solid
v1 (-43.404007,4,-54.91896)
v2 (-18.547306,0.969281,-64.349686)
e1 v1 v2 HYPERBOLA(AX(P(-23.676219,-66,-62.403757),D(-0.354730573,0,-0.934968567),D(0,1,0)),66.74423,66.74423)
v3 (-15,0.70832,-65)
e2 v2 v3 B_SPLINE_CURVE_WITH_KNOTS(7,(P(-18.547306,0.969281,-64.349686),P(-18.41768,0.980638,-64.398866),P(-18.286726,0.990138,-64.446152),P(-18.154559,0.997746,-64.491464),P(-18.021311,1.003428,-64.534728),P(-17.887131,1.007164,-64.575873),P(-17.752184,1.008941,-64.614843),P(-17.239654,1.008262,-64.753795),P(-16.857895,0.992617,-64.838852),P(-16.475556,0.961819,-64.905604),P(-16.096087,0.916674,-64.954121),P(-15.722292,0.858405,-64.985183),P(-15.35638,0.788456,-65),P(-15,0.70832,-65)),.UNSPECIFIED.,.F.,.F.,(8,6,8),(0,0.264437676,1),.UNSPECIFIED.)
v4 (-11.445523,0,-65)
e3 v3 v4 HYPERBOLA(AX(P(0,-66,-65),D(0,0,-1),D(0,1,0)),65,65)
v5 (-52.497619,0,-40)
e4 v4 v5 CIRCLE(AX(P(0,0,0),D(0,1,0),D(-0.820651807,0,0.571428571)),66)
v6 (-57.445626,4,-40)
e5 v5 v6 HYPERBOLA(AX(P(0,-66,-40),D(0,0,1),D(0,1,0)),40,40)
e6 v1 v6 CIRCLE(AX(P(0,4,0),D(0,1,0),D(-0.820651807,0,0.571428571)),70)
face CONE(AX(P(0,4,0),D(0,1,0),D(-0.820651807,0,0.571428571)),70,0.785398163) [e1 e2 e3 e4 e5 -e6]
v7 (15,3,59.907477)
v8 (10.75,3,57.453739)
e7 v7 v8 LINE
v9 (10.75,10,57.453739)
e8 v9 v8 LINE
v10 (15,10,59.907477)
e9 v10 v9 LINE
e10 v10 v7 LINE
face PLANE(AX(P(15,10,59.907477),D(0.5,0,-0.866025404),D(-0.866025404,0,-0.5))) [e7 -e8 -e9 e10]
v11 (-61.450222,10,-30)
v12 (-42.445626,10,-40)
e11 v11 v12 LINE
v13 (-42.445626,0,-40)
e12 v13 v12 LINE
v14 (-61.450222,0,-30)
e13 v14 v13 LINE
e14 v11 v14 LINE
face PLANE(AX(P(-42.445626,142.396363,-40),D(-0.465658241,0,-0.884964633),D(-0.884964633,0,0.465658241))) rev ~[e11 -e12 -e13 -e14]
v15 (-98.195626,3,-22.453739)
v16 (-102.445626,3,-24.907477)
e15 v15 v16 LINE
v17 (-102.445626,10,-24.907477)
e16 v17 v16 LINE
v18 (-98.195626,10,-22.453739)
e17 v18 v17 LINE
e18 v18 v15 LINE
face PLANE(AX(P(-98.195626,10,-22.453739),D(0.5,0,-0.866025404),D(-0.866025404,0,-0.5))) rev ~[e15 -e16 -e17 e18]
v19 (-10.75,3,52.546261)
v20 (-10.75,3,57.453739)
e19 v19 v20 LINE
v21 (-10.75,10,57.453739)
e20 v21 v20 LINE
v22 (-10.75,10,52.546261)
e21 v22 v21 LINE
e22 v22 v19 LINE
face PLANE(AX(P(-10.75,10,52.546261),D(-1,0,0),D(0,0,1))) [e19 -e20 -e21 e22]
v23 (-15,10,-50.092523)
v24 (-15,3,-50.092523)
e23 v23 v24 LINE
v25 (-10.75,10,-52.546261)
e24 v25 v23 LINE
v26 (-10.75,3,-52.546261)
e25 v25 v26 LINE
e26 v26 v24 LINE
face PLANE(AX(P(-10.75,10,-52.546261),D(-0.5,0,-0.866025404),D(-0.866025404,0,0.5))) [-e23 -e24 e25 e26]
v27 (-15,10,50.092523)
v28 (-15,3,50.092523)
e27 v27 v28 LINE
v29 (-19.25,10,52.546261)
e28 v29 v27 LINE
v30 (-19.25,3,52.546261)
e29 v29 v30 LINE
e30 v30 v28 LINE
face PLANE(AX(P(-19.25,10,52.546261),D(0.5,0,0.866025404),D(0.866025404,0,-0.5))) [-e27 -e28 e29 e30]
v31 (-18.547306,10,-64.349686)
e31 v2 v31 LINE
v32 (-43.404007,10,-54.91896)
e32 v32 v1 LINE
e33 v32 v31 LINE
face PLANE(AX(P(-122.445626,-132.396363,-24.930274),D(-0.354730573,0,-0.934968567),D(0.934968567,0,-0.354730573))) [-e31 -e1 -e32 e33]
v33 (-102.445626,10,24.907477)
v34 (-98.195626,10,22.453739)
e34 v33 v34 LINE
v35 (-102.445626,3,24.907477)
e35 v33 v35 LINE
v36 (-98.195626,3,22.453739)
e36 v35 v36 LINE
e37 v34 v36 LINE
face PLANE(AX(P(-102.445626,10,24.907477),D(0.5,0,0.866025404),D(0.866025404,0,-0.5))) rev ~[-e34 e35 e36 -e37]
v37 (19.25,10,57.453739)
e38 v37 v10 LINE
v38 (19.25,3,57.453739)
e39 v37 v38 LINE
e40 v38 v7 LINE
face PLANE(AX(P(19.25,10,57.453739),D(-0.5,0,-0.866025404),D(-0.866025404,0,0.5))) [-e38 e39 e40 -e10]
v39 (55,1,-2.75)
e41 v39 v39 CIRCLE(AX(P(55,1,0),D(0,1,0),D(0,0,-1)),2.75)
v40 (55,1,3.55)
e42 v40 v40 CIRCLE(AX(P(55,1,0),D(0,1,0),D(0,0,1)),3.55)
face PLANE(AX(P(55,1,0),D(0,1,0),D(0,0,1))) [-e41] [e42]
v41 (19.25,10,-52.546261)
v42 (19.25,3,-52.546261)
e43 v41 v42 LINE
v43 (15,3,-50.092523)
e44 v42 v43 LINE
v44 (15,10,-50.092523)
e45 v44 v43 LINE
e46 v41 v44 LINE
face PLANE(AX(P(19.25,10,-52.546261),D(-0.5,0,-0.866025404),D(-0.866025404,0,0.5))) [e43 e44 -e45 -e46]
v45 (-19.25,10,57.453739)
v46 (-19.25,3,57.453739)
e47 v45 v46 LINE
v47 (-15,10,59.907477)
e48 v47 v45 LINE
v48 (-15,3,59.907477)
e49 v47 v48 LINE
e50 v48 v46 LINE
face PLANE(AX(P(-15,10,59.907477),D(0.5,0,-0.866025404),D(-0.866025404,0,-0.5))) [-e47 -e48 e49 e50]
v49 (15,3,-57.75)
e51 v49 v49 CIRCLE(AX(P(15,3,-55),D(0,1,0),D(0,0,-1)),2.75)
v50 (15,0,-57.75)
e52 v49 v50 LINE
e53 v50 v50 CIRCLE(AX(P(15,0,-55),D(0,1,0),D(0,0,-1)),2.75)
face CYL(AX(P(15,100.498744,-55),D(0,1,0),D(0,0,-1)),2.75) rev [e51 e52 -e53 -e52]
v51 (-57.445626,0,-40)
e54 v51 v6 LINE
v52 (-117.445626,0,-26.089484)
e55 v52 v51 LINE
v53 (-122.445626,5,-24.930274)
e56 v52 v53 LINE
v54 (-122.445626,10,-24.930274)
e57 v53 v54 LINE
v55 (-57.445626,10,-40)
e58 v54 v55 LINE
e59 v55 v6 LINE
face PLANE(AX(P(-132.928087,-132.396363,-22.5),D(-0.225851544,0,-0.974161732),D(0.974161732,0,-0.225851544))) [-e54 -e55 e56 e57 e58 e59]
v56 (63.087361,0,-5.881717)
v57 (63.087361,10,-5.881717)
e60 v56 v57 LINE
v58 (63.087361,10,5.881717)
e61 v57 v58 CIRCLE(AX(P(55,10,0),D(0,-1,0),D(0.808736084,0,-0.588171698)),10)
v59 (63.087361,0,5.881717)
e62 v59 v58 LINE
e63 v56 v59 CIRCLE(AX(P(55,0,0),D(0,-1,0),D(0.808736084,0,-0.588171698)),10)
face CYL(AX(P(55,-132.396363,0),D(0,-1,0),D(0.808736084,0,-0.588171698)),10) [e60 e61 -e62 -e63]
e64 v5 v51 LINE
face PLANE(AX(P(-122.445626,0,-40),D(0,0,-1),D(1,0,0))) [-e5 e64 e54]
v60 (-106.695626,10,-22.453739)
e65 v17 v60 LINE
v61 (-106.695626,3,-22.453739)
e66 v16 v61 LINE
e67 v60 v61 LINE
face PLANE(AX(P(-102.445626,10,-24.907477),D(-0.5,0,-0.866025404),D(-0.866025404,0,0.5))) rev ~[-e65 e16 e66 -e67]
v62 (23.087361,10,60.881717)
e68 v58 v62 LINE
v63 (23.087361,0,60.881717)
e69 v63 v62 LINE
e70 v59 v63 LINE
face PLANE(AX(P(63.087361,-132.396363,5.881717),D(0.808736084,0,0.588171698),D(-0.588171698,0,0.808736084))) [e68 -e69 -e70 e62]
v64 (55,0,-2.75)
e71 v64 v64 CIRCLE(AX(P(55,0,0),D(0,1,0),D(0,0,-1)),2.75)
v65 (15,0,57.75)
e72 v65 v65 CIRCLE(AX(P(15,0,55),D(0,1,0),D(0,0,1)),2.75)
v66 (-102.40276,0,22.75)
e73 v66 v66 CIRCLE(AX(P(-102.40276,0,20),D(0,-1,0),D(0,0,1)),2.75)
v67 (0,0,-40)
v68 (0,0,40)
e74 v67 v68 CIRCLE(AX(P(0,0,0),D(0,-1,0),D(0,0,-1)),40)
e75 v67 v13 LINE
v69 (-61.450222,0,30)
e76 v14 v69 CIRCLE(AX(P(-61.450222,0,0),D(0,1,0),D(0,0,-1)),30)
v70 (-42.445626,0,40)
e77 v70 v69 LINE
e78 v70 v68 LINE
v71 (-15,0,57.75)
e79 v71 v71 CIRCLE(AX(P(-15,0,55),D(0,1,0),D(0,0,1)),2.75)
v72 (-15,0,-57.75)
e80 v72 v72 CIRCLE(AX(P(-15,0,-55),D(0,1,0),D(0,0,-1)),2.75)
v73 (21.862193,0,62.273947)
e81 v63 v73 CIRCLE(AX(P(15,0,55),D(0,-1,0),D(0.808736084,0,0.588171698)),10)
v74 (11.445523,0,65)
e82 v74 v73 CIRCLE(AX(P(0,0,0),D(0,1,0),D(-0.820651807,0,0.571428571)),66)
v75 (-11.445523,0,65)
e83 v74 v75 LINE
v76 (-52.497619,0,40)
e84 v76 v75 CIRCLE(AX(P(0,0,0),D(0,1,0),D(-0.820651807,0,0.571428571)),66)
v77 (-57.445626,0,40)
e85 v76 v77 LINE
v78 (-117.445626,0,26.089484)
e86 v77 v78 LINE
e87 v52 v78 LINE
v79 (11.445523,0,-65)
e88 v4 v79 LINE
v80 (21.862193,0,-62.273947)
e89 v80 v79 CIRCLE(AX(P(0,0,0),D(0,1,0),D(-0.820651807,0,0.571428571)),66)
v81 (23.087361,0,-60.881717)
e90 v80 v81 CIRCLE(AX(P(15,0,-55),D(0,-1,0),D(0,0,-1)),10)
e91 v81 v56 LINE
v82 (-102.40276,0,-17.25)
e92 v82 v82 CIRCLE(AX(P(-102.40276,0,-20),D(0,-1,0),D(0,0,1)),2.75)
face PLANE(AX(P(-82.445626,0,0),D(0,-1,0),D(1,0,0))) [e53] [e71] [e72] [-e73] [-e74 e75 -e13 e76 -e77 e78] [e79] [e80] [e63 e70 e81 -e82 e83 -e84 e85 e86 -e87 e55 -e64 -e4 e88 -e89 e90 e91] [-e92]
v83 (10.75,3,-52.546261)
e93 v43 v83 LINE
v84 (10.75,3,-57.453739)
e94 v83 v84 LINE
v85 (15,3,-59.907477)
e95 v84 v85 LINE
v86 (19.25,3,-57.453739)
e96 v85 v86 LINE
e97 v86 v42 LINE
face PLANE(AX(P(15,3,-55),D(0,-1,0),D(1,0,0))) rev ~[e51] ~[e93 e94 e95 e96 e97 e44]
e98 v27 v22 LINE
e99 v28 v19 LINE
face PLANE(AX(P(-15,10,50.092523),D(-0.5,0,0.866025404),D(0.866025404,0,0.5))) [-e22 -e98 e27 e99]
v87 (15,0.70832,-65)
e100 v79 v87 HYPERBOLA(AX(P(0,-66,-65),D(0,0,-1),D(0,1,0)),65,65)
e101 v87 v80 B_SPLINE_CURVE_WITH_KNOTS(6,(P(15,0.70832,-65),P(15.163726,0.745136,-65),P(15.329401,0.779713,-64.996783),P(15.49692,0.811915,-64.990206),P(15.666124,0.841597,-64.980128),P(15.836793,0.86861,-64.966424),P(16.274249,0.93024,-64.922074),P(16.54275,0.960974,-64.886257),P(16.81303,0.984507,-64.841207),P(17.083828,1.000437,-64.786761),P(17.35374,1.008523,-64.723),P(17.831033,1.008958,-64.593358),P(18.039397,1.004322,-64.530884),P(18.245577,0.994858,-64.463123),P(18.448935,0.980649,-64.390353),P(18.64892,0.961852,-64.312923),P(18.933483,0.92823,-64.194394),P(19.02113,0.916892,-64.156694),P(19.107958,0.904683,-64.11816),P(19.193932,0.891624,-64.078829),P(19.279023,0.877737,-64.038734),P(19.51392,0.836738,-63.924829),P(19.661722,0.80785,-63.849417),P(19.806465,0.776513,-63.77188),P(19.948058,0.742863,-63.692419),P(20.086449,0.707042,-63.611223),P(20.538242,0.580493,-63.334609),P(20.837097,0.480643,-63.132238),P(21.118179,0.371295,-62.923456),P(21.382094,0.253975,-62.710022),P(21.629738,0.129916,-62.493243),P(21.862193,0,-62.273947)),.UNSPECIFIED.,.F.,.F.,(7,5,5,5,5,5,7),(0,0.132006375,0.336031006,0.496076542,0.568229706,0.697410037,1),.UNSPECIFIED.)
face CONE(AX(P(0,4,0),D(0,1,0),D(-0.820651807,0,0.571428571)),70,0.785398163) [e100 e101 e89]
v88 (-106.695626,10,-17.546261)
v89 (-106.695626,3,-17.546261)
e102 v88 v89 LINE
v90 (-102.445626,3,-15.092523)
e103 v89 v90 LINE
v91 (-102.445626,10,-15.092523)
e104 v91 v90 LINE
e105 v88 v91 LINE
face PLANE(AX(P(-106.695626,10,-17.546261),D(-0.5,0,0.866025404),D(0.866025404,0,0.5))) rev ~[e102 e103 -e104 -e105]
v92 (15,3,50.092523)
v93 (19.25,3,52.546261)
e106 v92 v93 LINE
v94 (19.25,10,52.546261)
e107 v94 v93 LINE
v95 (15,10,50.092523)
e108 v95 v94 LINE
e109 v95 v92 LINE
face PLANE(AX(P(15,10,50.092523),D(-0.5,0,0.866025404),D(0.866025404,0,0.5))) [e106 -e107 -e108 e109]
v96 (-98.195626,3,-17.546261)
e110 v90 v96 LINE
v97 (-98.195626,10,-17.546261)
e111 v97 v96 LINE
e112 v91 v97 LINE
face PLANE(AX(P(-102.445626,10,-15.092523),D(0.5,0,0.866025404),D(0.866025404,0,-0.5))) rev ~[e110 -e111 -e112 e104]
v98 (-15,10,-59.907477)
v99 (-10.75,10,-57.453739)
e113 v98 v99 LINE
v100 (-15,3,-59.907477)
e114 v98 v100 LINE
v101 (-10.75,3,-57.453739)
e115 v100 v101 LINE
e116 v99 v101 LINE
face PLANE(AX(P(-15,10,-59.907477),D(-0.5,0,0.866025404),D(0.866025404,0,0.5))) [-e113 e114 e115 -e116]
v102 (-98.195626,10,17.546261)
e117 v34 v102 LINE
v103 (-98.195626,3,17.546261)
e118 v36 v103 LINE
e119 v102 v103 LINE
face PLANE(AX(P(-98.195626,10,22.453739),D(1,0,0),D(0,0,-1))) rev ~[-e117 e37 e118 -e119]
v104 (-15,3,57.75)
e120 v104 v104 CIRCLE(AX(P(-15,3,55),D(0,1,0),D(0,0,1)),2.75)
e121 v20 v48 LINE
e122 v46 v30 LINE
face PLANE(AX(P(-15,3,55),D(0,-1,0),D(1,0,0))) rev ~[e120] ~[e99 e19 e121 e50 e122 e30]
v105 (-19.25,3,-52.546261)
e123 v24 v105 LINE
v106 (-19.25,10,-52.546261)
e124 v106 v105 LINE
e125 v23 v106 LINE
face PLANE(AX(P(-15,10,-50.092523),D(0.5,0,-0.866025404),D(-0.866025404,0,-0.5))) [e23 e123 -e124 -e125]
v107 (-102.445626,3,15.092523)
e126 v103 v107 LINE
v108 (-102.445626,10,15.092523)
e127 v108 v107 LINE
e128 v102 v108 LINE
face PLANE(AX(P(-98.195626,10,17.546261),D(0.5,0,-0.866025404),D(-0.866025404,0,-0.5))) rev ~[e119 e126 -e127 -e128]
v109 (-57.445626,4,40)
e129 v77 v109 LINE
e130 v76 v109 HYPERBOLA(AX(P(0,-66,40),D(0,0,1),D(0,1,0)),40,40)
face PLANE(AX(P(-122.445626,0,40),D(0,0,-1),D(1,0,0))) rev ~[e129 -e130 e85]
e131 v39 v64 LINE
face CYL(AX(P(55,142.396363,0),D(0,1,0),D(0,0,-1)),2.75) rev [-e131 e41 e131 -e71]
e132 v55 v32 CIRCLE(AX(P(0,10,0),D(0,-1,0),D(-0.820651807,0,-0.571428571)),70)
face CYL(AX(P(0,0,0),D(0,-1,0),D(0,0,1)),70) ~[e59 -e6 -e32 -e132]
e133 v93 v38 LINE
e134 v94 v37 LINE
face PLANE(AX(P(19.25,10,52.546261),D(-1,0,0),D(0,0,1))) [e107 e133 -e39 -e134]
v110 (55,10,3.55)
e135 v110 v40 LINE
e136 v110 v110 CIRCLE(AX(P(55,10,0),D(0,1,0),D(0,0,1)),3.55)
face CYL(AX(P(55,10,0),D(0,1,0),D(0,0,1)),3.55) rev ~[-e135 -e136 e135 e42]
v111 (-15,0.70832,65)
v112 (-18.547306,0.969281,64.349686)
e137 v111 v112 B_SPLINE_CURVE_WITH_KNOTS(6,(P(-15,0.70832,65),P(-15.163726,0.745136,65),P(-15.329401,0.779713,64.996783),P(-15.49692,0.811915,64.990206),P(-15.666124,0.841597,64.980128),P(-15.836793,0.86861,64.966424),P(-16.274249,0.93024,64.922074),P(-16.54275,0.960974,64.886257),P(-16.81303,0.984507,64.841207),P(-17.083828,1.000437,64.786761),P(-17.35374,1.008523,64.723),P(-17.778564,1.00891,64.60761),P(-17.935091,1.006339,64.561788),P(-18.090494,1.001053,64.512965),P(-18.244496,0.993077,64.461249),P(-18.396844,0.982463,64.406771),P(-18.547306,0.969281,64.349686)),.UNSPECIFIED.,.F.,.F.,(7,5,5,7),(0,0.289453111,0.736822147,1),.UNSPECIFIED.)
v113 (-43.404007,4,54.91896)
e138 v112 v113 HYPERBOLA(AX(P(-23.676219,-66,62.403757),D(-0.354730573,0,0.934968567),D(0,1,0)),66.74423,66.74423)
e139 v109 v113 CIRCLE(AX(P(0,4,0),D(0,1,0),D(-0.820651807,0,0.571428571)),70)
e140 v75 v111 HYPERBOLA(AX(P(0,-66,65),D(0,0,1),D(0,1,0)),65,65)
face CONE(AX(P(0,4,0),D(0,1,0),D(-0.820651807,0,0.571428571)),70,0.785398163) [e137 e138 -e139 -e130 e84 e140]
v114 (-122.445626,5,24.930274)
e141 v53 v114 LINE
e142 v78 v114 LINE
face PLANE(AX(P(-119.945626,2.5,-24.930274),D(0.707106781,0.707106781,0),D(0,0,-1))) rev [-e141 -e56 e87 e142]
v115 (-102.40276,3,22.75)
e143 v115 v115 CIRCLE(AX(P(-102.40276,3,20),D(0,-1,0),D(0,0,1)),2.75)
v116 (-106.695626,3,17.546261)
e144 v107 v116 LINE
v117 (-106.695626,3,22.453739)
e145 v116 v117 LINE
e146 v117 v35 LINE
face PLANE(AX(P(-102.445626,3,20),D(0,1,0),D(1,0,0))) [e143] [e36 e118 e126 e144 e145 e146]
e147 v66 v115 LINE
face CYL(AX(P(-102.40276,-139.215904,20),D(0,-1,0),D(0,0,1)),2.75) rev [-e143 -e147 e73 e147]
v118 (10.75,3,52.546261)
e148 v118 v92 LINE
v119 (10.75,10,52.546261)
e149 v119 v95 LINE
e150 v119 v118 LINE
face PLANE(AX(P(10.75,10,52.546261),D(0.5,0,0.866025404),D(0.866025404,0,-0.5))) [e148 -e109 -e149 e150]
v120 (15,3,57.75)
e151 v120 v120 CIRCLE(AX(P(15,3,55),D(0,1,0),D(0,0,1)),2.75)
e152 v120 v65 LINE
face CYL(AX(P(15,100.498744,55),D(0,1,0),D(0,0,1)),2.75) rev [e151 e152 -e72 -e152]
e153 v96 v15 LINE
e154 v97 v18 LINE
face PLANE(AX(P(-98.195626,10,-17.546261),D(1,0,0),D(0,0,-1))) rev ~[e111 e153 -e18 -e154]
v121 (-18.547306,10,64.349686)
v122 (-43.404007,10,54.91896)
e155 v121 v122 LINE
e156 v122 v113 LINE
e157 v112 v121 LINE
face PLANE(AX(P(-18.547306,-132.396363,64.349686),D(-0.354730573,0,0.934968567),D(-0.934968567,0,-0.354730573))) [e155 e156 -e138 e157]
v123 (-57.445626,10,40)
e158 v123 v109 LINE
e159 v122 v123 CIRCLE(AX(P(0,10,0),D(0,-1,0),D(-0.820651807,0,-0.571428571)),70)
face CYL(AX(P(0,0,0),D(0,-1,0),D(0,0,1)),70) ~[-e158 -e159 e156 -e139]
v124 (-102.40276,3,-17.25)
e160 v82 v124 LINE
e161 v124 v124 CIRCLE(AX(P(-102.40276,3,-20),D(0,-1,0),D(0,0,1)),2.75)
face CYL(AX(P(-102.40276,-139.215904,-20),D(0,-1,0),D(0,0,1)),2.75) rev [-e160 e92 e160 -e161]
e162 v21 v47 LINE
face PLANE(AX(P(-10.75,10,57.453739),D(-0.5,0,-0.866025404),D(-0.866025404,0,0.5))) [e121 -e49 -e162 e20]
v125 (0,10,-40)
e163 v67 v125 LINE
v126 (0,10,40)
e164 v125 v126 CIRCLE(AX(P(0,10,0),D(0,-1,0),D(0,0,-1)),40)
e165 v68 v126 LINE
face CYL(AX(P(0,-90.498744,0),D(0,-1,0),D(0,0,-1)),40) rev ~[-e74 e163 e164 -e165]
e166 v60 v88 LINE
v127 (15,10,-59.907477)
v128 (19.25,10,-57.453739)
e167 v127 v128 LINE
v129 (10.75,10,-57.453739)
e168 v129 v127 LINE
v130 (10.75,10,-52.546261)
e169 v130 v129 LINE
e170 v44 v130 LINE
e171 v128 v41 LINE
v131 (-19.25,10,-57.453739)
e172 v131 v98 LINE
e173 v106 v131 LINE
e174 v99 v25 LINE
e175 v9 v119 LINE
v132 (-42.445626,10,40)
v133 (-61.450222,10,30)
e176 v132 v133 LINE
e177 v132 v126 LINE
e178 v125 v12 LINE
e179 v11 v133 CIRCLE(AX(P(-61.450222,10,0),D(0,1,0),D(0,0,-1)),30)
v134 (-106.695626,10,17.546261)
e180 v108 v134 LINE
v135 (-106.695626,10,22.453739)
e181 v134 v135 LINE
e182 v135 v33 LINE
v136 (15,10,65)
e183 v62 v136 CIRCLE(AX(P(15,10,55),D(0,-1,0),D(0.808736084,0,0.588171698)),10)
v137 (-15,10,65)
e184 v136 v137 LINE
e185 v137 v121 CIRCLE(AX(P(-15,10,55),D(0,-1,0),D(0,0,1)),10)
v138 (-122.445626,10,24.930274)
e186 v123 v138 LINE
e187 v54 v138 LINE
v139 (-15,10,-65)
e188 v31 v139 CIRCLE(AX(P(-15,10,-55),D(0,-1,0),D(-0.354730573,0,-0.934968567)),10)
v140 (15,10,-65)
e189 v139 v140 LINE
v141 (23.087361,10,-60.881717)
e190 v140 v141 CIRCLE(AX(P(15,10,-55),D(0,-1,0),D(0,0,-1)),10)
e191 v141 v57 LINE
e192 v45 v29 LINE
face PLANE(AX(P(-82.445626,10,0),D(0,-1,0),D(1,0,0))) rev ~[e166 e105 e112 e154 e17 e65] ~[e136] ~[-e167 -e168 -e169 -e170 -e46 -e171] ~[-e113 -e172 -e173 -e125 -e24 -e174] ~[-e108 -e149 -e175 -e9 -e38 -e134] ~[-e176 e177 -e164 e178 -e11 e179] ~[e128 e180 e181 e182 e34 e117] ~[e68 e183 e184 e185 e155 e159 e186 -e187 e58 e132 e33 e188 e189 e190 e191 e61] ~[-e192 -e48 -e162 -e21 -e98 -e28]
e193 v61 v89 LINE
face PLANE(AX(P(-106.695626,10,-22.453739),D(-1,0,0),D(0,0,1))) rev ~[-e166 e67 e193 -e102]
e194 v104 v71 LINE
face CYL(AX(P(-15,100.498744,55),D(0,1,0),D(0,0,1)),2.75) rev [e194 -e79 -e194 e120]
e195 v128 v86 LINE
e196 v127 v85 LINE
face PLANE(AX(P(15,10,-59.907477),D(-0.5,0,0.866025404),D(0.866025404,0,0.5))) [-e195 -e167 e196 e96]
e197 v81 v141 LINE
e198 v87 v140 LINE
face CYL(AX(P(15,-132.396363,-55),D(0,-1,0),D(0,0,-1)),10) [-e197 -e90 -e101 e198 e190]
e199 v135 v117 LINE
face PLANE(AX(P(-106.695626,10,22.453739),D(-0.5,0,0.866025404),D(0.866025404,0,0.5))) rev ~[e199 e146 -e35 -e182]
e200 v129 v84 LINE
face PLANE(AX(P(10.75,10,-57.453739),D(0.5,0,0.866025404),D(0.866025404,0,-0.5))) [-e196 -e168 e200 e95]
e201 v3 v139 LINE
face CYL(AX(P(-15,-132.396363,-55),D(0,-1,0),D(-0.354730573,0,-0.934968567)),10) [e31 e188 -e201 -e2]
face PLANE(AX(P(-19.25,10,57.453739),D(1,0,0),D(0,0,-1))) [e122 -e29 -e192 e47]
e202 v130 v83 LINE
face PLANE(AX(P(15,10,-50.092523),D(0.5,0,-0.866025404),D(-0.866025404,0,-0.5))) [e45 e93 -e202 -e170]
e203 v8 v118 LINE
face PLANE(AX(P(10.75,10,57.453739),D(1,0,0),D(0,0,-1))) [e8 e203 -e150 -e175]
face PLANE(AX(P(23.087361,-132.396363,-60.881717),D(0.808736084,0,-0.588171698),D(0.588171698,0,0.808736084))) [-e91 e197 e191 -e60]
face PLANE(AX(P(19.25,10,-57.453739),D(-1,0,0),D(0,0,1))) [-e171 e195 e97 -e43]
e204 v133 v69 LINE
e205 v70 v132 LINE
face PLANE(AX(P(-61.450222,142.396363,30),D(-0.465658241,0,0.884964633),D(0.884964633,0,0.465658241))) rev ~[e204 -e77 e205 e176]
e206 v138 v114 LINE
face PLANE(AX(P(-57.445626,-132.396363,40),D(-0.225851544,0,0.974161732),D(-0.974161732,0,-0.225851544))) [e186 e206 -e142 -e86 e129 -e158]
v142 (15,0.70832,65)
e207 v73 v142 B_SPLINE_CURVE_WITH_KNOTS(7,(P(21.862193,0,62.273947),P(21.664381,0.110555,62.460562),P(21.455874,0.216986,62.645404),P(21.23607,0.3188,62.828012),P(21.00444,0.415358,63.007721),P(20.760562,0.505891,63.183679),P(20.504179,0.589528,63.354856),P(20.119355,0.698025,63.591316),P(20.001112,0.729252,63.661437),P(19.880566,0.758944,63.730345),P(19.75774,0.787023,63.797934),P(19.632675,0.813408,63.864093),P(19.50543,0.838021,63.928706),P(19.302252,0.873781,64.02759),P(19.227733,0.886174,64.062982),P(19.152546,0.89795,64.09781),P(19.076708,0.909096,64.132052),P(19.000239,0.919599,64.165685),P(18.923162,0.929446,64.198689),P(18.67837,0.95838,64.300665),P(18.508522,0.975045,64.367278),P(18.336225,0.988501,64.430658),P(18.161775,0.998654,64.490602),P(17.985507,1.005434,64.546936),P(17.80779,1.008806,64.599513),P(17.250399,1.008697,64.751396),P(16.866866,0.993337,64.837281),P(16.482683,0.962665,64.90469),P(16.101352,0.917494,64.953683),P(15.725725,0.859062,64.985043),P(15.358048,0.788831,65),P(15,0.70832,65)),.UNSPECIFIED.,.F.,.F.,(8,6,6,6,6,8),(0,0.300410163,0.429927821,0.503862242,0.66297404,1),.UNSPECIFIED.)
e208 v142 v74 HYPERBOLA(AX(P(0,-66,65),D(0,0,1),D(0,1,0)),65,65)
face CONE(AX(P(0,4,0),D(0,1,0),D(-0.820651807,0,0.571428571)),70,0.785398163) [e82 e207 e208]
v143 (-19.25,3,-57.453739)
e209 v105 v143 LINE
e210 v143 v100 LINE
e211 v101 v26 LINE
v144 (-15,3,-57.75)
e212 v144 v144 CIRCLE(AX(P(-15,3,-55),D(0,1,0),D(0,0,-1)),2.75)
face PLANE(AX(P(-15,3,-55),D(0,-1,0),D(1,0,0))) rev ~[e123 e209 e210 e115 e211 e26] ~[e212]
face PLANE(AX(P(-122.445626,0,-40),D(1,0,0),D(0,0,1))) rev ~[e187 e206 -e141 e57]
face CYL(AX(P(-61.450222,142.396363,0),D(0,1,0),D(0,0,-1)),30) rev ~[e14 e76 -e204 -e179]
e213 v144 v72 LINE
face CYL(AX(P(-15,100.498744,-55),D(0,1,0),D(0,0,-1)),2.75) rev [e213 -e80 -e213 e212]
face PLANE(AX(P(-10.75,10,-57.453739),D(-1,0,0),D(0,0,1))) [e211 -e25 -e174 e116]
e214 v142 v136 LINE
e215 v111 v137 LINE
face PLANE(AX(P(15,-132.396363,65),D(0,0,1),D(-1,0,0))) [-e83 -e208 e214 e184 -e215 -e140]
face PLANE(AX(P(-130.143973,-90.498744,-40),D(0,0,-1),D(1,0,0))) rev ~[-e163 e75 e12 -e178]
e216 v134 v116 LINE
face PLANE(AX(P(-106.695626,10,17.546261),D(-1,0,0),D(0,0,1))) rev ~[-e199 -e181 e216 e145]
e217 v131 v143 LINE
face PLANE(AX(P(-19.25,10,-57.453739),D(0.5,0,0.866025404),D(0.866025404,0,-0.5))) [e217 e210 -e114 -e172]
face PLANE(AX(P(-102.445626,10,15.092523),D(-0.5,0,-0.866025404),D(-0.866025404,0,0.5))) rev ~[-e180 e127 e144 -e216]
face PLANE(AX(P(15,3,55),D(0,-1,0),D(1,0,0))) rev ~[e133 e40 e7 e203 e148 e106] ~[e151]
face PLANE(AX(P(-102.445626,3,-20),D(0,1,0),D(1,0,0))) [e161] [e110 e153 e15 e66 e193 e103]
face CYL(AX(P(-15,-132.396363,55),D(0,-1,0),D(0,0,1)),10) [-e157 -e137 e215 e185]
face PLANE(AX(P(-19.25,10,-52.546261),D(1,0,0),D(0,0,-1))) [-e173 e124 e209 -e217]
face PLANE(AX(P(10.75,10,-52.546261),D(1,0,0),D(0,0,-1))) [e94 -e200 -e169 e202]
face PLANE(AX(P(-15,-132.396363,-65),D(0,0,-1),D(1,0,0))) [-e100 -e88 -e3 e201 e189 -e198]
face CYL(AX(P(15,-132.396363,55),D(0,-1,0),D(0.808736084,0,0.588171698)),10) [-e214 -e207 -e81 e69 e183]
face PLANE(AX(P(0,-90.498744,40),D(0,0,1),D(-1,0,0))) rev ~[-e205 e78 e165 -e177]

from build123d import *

# Parameters (mm, degrees)
SKETCH1_R                = 70
BOSS_EXTRUDE1_DEPTH      = 10
CUT_EXTRUDE1_DEPTH       = 100.498743711
CUT_EXTRUDE1_DEPTH_BACK  = 100.498743711
CUT_EXTRUDE2_DEPTH       = 100.498743711
CUT_EXTRUDE2_DEPTH_BACK  = 100.498743711
SKETCH3_R                = 2.75
CUT_EXTRUDE3_START       = -10
CUT_EXTRUDE3_DEPTH       = 7
SKETCH5_W                = 80
SKETCH5_H                = 80
BOSS_EXTRUDE2_DEPTH      = 10
CHAMFER1_SIZE            = 4
CUT_EXTRUDE4_DEPTH       = 7
CUT_EXTRUDE5_DEPTH       = 142.215903639
CUT_EXTRUDE5_DEPTH_BACK  = 142.215903639
SKETCH7_R                = 2.75
CUT_EXTRUDE6_DEPTH       = 142.396362897
CUT_EXTRUDE6_DEPTH_BACK  = 142.396362897
CUT_EXTRUDE7_DEPTH       = 142.396362897
CUT_EXTRUDE7_DEPTH_BACK  = 142.396362897
CHAMFER3_SIZE            = 5
CUT_EXTRUDE8_DEPTH       = 142.396362897
CUT_EXTRUDE8_DEPTH_BACK  = 142.396362897
SKETCH10_R               = 2.75
SKETCH11_R               = 3.55
CUT_EXTRUDE9_DEPTH       = 9
CUT_EXTRUDE11_DEPTH      = 142.396362897
CUT_EXTRUDE11_DEPTH_BACK = 142.396362897
SKETCH12_OUTSIDE_W       = 242.084
SKETCH12_OUTSIDE_H       = 189.638


with BuildPart() as part:
    # Sketch1 → Boss-Extrude1 (new body)
    with BuildSketch(Plane(origin=(0, 0, 0), x_dir=(1, 0, 0), z_dir=(0, 1, 0))):
        with Locations(Location((0, 0, 0), (0, 0, 270))):
            Circle(SKETCH1_R)
    extrude(amount=BOSS_EXTRUDE1_DEPTH)

    # Sketch2 → Cut-Extrude1 (cut, two sides: drawn at the far end of the back side and taken through both)
    with BuildSketch(Plane(origin=(0, 10, 0), x_dir=(1, 0, 0), z_dir=(0, 1, 0)).offset(-CUT_EXTRUDE1_DEPTH_BACK)):
        with BuildLine():
            Line((0, -40), (-130.143973447, -40))
            ThreePointArc((-130.143973447, -40), (-170.143973447, 0), (-130.143973447, 40))
            Line((-130.143973447, 40), (0, 40))
            ThreePointArc((0, 40), (40, 0), (0, -40))
        make_face()
    extrude(amount=CUT_EXTRUDE1_DEPTH + CUT_EXTRUDE1_DEPTH_BACK, mode=Mode.SUBTRACT)

    # Sketch3 → Cut-Extrude2 (cut, two sides: drawn at the far end of the back side and taken through both)
    with BuildSketch(Plane(origin=(0, 0, 0), x_dir=(-1, 0, 0), z_dir=(0, -1, 0)).offset(-CUT_EXTRUDE2_DEPTH_BACK)):
        with Locations(Location((15, 55, 0), (0, 0, 90))):
            Circle(SKETCH3_R)
        with Locations(Location((-15, 55, 0), (0, 0, 90))):
            Circle(SKETCH3_R)
        with Locations(Location((-15, -55, 0), (0, 0, 270))):
            Circle(SKETCH3_R)
        with Locations(Location((15, -55, 0), (0, 0, 270))):
            Circle(SKETCH3_R)
    extrude(amount=CUT_EXTRUDE2_DEPTH + CUT_EXTRUDE2_DEPTH_BACK, mode=Mode.SUBTRACT)

    # Sketch4 → Cut-Extrude3 (cut)
    with BuildSketch(Plane.XZ.offset(CUT_EXTRUDE3_START)):
        Polygon((-15, -50.092522712), (-19.25, -52.546261356), (-19.25, -57.453738644), (-15, -59.907477288), (-10.75, -57.453738644), (-10.75, -52.546261356), align=None)
        Polygon((15, -50.092522712), (10.75, -52.546261356), (10.75, -57.453738644), (15, -59.907477288), (19.25, -57.453738644), (19.25, -52.546261356), align=None)
        Polygon((-15, 59.907477288), (-19.25, 57.453738644), (-19.25, 52.546261356), (-15, 50.092522712), (-10.75, 52.546261356), (-10.75, 57.453738644), align=None)
        Polygon((15, 59.907477288), (10.75, 57.453738644), (10.75, 52.546261356), (15, 50.092522712), (19.25, 52.546261356), (19.25, 57.453738644), align=None)
    extrude(amount=CUT_EXTRUDE3_DEPTH, mode=Mode.SUBTRACT)

    # Sketch5 → Boss-Extrude2 (add)
    with BuildSketch(Plane.XZ):
        with Locations((-82.445626465, 0)):
            Rectangle(SKETCH5_W, SKETCH5_H)
    extrude(amount=-BOSS_EXTRUDE2_DEPTH)

    # Chamfer1
    chamfer1_edges = [part.edges().sort_by_distance(p)[0] for p in [
        (70, 0, 0),
    ]]
    chamfer(chamfer1_edges, length=CHAMFER1_SIZE)

    # Sketch6 → Cut-Extrude4 (cut)
    with BuildSketch(Plane(origin=(0, 10, 0), x_dir=(1, 0, 0), z_dir=(0, 1, 0))):
        Polygon((-102.445626465, 24.907477288), (-106.695626465, 22.453738644), (-106.695626465, 17.546261356), (-102.445626465, 15.092522712), (-98.195626465, 17.546261356), (-98.195626465, 22.453738644), align=None)
        Polygon((-102.445626465, -15.092522712), (-106.695626465, -17.546261356), (-106.695626465, -22.453738644), (-102.445626465, -24.907477288), (-98.195626465, -22.453738644), (-98.195626465, -17.546261356), align=None)
    extrude(amount=-CUT_EXTRUDE4_DEPTH, mode=Mode.SUBTRACT)

    # Sketch7 → Cut-Extrude5 (cut, two sides: drawn at the far end of the back side and taken through both)
    with BuildSketch(Plane(origin=(0, 3, 0), x_dir=(1, 0, 0), z_dir=(0, 1, 0)).offset(-CUT_EXTRUDE5_DEPTH_BACK)):
        with Locations(Location((-102.402760328, 20, 0), (0, 0, 270))):
            Circle(SKETCH7_R)
        with Locations(Location((-102.402760328, -20, 0), (0, 0, 270))):
            Circle(SKETCH7_R)
    extrude(amount=CUT_EXTRUDE5_DEPTH + CUT_EXTRUDE5_DEPTH_BACK, mode=Mode.SUBTRACT)

    # Sketch8 → Cut-Extrude6 (cut, two sides: drawn at the far end of the back side and taken through both)
    with BuildSketch(Plane(origin=(0, 10, 0), x_dir=(1, 0, 0), z_dir=(0, 1, 0)).offset(-CUT_EXTRUDE6_DEPTH_BACK)):
        Polygon((-57.445626465, -40), (-132.928087077, -22.5), (-132.928087077, 22.5), (-57.445626465, 40), (-157.567703317, 66.574038668), (-157.567703317, -80.170037604), align=None)
    extrude(amount=CUT_EXTRUDE6_DEPTH + CUT_EXTRUDE6_DEPTH_BACK, mode=Mode.SUBTRACT)

    # Sketch9 → Cut-Extrude7 (cut, two sides: drawn at the far end of the back side and taken through both)
    with BuildSketch(Plane.XZ.offset(-CUT_EXTRUDE7_DEPTH_BACK)):
        with BuildLine():
            Line((-61.450221561, 30), (-42.445626465, 40))
            Line((-42.445626465, 40), (0, 30))
            ThreePointArc((0, 30), (30, 0), (0, -30))
            Line((0, -30), (-42.445626465, -40))
            Line((-42.445626465, -40), (-61.450221561, -30))
            ThreePointArc((-61.450221561, -30), (-91.450221561, 0), (-61.450221561, 30))
        make_face()
    extrude(amount=CUT_EXTRUDE7_DEPTH + CUT_EXTRUDE7_DEPTH_BACK, mode=Mode.SUBTRACT)

    # Chamfer3
    chamfer3_edges = [part.edges().sort_by_distance(p)[0] for p in [
        (-122.445626465, 0, 0),
    ]]
    chamfer(chamfer3_edges, length=CHAMFER3_SIZE)

    # Sketch10 → Cut-Extrude8 (cut, two sides: drawn at the far end of the back side and taken through both)
    with BuildSketch(Plane.XZ.offset(-CUT_EXTRUDE8_DEPTH_BACK)):
        with Locations(Location((55, 0, 0), (0, 0, 270))):
            Circle(SKETCH10_R)
    extrude(amount=CUT_EXTRUDE8_DEPTH + CUT_EXTRUDE8_DEPTH_BACK, mode=Mode.SUBTRACT)

    # Sketch11 → Cut-Extrude9 (cut)
    with BuildSketch(Plane(origin=(0, 10, 0), x_dir=(1, 0, 0), z_dir=(0, 1, 0))):
        with Locations(Location((55, 0, 0), (0, 0, 270))):
            Circle(SKETCH11_R)
    extrude(amount=-CUT_EXTRUDE9_DEPTH, mode=Mode.SUBTRACT)

    # Sketch12 outside → Cut-Extrude11 (cut, two sides: drawn at the far end of the back side and taken through both)
    with BuildSketch(Plane(origin=(0, 10, 0), x_dir=(1, 0, 0), z_dir=(0, 1, 0)).offset(-CUT_EXTRUDE11_DEPTH_BACK)):
        with Locations((-26.223, 0)):
            Rectangle(SKETCH12_OUTSIDE_W, SKETCH12_OUTSIDE_H)
        with BuildLine():
            Line((-122.445626465, 24.93027399), (-18.547305729, 64.349685667))
            ThreePointArc((-18.547305729, 64.349685667), (-16.803211487, 64.836077894), (-15, 65))
            Line((-15, 65), (15, 65))
            ThreePointArc((15, 65), (19.537776451, 63.91114947), (23.087360843, 60.881716977))
            Line((23.087360843, 60.881716977), (63.087360843, 5.881716977))
            ThreePointArc((63.087360843, 5.881716977), (65, 0), (63.087360843, -5.881716977))
            Line((63.087360843, -5.881716977), (23.087360843, -60.881716977))
            ThreePointArc((23.087360843, -60.881716977), (19.537776451, -63.91114947), (15, -65))
            Line((15, -65), (-15, -65))
            ThreePointArc((-15, -65), (-16.803211487, -64.836077894), (-18.547305729, -64.349685667))
            Line((-18.547305729, -64.349685667), (-122.445626465, -24.93027399))
            Line((-122.445626465, -24.93027399), (-122.445626465, 24.93027399))
        make_face(mode=Mode.SUBTRACT)
    extrude(amount=CUT_EXTRUDE11_DEPTH + CUT_EXTRUDE11_DEPTH_BACK, mode=Mode.SUBTRACT)


solid = part.part
